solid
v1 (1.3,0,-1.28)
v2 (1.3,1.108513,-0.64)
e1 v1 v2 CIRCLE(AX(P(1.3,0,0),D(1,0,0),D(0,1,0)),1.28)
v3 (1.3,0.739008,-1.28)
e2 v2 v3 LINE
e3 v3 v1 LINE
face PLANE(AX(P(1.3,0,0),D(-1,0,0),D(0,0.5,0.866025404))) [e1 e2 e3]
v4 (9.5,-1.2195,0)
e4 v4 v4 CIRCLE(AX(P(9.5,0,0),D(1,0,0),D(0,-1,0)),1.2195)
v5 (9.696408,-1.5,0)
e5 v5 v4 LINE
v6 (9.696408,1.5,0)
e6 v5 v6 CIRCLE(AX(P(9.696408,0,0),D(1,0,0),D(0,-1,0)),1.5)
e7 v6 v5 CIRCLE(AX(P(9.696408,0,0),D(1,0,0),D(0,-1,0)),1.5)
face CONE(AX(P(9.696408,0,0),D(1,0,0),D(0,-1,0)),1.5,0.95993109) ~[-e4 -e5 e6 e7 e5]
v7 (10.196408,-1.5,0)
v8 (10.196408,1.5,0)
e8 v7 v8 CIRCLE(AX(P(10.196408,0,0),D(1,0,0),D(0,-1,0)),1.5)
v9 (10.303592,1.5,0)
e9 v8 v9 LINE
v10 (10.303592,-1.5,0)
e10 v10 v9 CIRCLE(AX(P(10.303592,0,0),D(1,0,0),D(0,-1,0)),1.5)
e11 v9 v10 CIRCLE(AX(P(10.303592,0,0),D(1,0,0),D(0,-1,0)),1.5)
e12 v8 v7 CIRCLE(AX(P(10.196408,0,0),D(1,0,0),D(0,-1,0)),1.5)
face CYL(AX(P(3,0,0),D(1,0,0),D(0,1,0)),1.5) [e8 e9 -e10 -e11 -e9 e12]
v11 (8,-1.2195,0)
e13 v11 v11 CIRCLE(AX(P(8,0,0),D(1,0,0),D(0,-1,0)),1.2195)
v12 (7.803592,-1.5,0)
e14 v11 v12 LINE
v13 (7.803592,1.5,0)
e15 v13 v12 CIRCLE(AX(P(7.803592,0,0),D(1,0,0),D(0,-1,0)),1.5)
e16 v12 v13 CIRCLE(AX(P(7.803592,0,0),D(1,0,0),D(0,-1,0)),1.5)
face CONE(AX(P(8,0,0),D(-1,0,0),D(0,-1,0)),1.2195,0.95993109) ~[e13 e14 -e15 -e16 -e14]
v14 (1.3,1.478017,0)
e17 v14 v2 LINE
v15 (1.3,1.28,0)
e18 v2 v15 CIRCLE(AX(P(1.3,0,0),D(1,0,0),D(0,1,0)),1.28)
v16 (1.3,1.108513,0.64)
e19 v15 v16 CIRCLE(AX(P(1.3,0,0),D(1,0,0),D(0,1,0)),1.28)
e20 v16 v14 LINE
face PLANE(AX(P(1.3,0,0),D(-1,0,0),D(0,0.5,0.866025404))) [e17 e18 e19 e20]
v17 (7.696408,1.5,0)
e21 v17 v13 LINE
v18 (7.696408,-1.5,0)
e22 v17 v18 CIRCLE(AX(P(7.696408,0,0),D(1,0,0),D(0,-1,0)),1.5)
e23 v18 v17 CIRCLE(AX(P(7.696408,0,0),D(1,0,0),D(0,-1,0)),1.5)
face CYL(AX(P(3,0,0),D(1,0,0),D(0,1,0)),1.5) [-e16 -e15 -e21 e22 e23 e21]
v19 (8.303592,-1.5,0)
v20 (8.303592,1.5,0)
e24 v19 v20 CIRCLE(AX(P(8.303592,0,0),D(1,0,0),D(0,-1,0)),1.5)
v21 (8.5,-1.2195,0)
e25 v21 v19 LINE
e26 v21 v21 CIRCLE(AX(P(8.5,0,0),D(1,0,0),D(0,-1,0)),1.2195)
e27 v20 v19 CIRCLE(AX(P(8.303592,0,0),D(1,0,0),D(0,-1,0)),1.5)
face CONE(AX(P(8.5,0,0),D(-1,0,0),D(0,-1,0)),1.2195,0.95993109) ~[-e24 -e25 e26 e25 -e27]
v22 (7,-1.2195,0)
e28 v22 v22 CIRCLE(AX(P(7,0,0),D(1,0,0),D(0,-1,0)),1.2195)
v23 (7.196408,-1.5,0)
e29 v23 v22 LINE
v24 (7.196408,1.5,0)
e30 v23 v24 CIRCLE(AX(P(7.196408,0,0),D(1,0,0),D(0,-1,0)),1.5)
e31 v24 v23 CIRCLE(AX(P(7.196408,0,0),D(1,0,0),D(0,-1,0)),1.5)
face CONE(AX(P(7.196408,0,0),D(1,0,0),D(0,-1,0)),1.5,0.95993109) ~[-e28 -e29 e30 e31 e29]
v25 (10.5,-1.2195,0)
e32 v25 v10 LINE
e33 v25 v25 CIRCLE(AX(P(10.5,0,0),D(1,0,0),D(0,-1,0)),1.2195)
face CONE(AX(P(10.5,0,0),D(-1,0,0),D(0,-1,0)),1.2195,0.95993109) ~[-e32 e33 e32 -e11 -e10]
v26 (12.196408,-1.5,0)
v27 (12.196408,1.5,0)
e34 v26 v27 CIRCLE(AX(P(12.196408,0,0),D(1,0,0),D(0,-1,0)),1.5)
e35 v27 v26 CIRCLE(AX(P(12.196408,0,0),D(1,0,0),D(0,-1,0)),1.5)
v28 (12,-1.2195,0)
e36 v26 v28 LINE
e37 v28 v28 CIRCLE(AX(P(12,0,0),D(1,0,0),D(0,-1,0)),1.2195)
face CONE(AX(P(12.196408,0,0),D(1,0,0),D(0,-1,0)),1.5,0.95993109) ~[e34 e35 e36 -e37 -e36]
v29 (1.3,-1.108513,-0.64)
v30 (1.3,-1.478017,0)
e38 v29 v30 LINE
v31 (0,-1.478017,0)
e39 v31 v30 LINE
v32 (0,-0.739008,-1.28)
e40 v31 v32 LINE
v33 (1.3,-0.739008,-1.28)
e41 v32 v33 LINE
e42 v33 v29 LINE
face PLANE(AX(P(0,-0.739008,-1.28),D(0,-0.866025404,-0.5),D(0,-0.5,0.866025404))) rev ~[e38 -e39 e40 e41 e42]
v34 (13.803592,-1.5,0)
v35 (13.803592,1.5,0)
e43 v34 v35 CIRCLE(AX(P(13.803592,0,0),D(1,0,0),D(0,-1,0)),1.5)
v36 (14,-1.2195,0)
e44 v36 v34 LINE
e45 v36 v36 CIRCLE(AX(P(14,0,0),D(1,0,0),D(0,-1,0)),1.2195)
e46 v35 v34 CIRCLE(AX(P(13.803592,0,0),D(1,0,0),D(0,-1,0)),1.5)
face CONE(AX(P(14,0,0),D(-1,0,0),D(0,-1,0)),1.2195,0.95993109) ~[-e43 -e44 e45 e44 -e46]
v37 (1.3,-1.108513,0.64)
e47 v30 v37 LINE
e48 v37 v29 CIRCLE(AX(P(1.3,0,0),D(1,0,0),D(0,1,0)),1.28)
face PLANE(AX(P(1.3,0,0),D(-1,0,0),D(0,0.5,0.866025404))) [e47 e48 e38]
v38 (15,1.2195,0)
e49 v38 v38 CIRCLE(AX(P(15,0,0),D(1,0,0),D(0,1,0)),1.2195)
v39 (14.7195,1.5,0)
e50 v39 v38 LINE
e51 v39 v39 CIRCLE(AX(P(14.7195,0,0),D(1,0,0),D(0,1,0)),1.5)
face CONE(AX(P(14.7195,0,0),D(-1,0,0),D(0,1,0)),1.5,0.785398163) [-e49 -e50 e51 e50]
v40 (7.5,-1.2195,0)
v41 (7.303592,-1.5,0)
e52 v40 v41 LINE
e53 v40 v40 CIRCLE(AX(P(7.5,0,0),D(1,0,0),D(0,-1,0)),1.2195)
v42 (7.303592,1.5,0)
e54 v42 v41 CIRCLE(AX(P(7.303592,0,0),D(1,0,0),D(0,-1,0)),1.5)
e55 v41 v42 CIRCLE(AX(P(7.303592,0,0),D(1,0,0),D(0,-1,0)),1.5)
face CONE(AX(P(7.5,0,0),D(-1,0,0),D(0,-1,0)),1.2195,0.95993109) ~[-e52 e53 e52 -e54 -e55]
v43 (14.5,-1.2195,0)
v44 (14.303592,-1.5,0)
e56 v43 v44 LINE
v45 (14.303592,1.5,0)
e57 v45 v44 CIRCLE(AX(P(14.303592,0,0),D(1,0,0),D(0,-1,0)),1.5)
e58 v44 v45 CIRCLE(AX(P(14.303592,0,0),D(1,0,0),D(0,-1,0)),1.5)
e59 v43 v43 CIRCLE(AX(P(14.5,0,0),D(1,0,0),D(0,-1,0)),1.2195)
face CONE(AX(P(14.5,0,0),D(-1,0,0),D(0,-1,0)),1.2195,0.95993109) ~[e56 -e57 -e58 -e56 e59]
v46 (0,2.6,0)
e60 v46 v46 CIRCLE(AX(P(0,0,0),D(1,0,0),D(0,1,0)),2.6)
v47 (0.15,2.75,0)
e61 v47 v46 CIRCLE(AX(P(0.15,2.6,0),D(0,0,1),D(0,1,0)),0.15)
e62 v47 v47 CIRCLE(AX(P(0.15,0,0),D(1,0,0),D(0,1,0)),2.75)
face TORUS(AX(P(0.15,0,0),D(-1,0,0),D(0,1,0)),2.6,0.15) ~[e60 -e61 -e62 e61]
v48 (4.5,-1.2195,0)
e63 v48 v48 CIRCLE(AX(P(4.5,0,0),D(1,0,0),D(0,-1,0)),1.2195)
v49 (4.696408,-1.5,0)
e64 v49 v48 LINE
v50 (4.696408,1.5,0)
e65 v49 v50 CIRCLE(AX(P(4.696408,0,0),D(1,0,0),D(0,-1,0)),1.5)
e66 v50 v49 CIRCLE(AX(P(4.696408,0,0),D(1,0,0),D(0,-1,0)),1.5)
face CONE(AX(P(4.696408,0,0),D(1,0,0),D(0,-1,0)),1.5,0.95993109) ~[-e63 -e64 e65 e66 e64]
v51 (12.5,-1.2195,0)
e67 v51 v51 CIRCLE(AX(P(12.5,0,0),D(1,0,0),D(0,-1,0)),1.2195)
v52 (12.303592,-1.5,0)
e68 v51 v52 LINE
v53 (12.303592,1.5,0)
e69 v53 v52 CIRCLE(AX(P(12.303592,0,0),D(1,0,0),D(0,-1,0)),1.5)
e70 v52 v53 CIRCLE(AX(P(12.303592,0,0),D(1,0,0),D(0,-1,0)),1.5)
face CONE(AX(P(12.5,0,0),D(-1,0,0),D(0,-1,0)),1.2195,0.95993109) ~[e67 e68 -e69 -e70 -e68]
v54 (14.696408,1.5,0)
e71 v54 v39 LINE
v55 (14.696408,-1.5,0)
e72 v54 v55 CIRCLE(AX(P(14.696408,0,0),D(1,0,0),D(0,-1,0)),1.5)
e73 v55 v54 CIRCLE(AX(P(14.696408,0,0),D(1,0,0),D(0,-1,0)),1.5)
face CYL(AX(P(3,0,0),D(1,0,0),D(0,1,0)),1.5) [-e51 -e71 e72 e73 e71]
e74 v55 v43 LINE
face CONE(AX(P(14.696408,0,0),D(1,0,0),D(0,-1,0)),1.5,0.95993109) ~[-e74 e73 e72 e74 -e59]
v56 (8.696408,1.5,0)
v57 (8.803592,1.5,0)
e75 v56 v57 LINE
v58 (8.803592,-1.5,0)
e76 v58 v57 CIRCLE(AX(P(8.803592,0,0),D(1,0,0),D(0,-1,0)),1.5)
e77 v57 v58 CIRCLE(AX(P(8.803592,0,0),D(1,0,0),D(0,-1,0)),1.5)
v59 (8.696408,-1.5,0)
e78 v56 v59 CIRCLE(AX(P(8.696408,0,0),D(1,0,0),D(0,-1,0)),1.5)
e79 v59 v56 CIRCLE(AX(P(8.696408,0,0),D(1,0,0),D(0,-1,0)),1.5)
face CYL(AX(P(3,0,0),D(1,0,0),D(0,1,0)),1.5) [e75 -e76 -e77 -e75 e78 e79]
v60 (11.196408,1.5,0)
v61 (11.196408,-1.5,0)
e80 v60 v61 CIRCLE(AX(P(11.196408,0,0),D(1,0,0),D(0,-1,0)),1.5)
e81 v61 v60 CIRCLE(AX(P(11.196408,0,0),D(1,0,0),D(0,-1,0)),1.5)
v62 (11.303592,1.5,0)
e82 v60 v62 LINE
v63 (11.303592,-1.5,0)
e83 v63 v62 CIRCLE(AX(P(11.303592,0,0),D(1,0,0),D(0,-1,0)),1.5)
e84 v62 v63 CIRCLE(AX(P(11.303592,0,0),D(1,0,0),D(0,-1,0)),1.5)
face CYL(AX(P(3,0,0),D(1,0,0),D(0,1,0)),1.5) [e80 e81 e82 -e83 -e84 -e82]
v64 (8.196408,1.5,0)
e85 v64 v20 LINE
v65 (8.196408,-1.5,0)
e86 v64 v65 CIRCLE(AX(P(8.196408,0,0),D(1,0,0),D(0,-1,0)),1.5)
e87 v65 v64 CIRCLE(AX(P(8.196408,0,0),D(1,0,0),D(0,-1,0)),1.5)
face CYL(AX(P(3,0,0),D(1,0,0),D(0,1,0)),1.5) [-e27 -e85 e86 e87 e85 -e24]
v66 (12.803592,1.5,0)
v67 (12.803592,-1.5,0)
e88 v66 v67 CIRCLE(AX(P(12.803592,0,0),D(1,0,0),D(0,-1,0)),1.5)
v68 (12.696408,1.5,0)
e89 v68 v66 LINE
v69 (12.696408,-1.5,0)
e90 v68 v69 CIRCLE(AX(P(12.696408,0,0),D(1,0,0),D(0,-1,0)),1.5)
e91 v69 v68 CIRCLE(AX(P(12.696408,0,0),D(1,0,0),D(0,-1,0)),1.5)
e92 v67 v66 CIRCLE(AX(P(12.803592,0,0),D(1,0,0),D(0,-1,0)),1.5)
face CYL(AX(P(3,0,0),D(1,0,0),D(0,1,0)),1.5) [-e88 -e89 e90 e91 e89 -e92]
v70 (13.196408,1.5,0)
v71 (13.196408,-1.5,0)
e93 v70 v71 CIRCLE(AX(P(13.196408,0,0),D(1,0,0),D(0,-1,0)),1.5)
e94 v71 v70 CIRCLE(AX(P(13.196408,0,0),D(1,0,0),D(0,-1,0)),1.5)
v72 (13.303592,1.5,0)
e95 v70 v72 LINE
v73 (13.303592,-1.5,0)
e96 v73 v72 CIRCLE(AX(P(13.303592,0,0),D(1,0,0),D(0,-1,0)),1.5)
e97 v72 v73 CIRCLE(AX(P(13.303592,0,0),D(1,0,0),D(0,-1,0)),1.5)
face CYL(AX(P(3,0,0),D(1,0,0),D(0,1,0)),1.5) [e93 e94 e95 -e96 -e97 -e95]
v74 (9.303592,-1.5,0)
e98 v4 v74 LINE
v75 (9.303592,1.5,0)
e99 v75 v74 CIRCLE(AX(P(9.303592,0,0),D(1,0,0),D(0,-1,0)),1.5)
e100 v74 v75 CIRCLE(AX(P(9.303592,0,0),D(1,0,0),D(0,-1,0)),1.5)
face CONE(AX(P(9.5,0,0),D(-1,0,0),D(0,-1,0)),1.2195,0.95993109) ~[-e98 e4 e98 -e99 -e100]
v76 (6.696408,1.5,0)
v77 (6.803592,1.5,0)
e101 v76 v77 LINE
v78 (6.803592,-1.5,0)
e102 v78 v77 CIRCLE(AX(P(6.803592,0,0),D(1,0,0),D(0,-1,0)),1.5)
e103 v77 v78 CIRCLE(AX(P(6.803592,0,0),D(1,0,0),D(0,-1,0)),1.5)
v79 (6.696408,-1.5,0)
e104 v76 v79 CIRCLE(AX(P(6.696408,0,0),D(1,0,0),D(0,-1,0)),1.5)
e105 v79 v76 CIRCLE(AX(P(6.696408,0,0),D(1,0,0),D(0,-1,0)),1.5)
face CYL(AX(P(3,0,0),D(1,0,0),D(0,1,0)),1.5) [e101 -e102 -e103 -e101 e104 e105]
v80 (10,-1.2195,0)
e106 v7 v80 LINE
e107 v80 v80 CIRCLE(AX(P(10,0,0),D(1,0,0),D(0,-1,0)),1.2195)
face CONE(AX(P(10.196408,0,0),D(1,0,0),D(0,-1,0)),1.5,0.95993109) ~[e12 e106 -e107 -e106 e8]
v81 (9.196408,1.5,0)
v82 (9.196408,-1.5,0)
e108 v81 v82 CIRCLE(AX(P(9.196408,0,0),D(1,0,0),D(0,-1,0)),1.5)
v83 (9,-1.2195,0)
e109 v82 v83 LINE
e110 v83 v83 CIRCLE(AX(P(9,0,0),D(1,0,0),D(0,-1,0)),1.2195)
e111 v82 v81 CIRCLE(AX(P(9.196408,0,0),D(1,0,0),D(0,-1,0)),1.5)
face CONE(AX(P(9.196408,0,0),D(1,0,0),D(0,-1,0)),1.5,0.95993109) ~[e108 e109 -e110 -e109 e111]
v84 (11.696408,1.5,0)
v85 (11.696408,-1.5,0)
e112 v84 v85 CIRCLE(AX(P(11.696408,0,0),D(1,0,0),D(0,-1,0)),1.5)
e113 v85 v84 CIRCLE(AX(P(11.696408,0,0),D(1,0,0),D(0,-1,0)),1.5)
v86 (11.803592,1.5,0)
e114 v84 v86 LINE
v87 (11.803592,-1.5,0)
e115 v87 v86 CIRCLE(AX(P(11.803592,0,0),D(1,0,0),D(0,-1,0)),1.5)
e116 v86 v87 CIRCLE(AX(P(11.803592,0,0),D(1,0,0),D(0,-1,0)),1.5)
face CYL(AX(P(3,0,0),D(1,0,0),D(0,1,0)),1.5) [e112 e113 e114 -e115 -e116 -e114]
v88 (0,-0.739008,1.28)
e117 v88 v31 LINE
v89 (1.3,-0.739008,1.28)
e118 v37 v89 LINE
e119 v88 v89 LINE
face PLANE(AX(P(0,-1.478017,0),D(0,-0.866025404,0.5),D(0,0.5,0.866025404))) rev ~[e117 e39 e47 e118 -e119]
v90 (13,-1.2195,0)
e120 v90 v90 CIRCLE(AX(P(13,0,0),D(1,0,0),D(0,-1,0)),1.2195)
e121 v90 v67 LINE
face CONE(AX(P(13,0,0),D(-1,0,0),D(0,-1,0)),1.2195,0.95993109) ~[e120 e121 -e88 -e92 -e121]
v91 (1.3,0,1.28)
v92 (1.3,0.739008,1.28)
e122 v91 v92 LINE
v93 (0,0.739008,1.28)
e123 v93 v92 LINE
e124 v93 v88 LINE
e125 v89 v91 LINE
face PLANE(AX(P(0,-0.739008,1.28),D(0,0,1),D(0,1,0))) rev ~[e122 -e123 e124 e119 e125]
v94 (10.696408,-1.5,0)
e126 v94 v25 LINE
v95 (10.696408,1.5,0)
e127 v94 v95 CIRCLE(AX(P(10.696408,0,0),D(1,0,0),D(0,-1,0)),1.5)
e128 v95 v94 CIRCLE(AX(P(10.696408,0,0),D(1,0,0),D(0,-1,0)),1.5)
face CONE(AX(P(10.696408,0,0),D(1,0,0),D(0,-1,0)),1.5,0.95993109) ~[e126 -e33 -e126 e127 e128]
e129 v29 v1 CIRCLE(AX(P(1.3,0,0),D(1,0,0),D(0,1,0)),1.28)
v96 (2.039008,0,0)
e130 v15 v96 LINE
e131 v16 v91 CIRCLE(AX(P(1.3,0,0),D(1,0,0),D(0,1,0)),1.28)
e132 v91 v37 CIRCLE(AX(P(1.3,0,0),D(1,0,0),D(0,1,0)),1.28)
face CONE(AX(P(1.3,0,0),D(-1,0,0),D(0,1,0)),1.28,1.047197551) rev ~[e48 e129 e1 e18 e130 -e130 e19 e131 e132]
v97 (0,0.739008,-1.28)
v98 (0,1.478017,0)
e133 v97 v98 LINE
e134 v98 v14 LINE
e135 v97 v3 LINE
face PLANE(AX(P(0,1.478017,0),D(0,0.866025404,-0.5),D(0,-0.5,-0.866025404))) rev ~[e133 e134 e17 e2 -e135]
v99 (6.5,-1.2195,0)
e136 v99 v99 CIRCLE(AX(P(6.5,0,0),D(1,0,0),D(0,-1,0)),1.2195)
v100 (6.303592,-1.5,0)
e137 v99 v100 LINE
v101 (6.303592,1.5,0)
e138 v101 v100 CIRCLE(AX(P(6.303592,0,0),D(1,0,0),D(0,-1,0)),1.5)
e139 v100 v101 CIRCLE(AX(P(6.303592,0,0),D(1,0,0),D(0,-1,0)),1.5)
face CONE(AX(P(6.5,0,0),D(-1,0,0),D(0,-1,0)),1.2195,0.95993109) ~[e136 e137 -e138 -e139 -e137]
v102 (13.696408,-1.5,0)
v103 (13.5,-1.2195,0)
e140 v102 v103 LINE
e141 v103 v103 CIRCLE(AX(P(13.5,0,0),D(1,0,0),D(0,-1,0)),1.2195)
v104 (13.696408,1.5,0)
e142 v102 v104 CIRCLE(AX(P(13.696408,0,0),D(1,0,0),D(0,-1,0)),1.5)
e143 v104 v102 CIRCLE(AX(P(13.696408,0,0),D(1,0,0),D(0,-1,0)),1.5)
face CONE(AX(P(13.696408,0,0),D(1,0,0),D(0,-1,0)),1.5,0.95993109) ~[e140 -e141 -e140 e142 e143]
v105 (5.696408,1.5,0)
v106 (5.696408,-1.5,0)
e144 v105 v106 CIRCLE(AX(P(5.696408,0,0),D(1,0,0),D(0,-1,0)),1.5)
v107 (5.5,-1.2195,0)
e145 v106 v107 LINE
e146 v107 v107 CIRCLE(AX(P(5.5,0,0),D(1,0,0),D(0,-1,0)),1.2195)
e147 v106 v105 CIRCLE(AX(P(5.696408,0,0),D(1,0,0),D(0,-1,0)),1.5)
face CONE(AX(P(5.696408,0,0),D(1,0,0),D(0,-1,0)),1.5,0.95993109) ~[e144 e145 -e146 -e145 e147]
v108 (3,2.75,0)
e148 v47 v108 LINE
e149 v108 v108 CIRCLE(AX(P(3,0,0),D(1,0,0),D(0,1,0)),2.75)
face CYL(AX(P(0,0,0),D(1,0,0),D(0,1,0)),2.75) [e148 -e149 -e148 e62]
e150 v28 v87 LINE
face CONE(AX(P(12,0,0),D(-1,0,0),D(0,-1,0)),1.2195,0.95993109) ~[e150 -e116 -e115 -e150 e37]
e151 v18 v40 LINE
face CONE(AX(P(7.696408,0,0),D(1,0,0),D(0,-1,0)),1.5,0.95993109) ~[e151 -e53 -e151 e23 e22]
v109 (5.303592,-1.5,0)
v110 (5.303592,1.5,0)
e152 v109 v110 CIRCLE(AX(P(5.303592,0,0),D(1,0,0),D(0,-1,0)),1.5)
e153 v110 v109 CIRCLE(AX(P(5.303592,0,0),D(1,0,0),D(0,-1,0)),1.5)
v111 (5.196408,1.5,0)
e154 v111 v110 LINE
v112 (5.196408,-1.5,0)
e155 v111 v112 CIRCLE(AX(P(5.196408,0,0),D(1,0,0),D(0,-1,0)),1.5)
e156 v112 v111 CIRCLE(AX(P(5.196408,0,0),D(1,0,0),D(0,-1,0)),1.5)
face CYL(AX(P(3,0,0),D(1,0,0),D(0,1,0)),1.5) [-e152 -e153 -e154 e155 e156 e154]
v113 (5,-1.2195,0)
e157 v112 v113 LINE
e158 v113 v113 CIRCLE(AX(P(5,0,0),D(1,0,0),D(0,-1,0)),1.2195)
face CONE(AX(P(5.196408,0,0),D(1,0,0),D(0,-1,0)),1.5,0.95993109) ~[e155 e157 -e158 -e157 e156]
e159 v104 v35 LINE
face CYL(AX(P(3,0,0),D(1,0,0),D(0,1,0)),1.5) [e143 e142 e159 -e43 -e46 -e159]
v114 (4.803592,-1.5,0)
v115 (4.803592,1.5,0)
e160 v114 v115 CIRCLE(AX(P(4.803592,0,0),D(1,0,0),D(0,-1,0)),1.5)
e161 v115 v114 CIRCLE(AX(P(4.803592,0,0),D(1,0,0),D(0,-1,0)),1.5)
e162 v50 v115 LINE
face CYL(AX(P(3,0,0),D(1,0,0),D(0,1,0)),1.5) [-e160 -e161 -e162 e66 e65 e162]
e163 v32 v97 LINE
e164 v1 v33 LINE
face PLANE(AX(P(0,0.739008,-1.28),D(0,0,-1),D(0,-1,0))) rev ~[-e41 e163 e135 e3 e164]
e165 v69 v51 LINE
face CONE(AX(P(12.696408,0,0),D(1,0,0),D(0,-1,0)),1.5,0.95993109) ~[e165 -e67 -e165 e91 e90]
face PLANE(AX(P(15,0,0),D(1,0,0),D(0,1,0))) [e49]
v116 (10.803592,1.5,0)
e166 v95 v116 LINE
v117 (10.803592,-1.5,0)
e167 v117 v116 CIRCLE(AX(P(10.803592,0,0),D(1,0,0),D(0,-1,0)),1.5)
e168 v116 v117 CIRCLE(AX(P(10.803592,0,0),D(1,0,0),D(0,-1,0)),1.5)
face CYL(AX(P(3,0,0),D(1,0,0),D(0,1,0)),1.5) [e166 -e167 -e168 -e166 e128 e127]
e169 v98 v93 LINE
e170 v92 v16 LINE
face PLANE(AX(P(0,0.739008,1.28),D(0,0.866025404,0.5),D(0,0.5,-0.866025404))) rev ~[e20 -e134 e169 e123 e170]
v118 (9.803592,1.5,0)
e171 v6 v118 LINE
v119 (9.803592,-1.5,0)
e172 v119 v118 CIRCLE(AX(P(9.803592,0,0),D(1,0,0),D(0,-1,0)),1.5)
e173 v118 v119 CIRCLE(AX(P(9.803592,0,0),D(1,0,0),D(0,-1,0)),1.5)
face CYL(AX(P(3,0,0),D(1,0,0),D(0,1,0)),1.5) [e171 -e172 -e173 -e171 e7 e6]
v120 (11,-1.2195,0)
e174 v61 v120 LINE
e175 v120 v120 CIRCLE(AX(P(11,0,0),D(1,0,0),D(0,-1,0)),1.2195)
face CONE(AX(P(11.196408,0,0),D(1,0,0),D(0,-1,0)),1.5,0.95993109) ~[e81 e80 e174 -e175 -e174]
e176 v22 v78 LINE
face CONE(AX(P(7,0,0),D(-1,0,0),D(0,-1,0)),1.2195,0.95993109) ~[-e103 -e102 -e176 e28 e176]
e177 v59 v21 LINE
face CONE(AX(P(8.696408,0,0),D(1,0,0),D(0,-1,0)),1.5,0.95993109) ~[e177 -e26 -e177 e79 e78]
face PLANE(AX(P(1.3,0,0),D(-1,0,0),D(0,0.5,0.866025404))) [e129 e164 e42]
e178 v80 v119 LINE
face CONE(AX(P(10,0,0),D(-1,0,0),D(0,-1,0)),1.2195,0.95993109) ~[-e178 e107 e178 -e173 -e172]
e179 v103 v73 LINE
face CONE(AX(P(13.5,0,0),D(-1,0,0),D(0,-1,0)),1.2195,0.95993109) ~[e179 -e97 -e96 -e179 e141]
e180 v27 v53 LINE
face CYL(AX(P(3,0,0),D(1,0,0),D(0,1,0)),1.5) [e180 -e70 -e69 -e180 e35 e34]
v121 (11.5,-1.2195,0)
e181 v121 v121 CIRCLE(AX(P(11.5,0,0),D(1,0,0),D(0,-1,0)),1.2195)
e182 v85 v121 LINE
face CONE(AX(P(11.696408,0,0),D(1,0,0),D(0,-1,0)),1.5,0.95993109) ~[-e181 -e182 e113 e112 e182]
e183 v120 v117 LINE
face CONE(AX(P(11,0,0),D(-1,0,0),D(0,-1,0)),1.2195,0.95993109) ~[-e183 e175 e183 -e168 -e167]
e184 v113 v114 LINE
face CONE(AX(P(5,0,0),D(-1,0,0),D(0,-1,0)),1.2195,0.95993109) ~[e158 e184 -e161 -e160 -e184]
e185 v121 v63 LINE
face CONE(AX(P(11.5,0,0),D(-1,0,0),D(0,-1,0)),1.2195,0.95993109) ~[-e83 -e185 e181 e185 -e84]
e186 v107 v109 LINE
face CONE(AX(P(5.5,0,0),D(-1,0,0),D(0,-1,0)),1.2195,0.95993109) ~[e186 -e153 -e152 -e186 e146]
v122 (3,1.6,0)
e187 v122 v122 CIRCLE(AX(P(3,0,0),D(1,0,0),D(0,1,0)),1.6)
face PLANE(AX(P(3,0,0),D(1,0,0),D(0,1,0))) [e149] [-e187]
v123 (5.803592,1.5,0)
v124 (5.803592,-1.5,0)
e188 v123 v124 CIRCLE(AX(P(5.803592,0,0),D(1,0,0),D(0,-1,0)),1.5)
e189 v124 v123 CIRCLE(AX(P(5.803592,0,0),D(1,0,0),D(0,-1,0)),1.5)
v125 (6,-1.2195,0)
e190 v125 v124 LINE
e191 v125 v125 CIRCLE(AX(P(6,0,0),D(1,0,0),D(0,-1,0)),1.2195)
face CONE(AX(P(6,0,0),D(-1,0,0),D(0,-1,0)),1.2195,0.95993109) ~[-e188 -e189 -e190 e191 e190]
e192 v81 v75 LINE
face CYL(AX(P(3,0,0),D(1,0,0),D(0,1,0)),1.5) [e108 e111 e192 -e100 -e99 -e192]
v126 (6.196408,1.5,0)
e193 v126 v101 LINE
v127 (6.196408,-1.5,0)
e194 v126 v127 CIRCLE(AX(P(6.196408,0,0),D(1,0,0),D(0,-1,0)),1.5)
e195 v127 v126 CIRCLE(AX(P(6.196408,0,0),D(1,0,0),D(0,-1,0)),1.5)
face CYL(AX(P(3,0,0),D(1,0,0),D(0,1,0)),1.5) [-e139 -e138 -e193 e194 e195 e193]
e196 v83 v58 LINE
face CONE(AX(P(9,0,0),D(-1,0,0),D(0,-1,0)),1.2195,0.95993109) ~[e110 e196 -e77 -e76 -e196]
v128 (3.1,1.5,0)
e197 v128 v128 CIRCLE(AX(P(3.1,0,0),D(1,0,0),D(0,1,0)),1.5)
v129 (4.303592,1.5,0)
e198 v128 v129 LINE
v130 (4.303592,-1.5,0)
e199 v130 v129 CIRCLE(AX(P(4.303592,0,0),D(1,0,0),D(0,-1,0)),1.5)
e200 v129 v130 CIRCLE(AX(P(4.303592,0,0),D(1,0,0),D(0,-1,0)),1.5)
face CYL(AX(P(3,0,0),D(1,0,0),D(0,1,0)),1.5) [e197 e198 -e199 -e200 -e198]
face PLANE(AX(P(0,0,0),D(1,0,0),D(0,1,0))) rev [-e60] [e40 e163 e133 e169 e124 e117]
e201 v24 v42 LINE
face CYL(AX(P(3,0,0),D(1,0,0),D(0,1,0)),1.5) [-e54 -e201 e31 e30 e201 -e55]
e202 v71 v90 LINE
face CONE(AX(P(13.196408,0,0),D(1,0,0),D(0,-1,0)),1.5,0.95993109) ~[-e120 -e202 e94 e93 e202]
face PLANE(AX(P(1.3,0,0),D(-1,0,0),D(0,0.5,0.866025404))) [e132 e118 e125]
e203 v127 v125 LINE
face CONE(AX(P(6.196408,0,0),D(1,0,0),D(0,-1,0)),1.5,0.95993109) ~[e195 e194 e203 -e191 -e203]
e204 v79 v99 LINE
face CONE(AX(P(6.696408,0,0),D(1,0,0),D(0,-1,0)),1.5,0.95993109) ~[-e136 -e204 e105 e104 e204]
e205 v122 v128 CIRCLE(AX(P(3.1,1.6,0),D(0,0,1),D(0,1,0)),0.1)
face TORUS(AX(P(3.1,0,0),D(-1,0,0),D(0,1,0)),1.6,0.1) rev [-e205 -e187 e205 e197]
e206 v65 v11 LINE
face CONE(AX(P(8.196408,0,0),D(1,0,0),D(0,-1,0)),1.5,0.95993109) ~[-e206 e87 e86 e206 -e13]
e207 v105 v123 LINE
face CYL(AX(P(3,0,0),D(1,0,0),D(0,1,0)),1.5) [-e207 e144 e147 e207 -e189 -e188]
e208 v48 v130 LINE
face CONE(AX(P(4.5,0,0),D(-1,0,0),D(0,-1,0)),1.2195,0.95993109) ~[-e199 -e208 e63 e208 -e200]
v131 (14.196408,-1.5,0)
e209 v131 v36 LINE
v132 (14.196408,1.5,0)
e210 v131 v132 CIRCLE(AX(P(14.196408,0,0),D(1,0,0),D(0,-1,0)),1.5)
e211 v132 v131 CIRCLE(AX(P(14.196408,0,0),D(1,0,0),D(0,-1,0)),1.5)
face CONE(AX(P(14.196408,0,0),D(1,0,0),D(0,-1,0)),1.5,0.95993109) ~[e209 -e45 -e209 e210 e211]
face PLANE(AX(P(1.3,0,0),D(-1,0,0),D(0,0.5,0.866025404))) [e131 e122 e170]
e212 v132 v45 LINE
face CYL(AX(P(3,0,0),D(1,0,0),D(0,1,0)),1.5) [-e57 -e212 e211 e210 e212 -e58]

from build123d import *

# Parameters (mm, degrees)
FILLET1_R       = 0.1
FILLET2_R       = 0.15
HEX_2_DEPTH     = 1.3
THDSCHPAT_COUNT = 21
THDSCHPAT_PITCH = 0.5


with BuildPart() as part:
    # BodySke → Base-Revolve (revolve)
    with BuildSketch(Plane.XY):
        Polygon((0, 0), (0, 2.75), (3, 2.75), (3, 1.5), (14.7195, 1.5), (15, 1.2195), (15, 0), align=None)
    revolve(axis=Axis((-31.75, 0, 0), (1, 0, 0)))

    # Fillet1
    fillet1_edges = [part.edges().sort_by_distance(p)[0] for p in [
        (3, -1.5, 0),
    ]]
    fillet(fillet1_edges, radius=FILLET1_R)

    # Fillet2
    fillet2_edges = [part.edges().sort_by_distance(p)[0] for p in [
        (0, -2.75, 0),
    ]]
    fillet(fillet2_edges, radius=FILLET2_R)

    # Sketch2 → Hex-PreBroach (revolve, cut)
    with BuildSketch(Plane.XY):
        Polygon((0, 1.28), (1.3, 1.28), (2.039008345, 0), (0, 0), align=None)
    revolve(axis=Axis((0, 0, 0), (1, 0, 0)), mode=Mode.SUBTRACT)

    # Sketch3 → Hex 2 (cut)
    with BuildSketch(Plane(origin=(0, 0, 0), x_dir=(0, 0.5, 0.866025404), z_dir=(-1, 0, 0))):
        Polygon((0.739008345, 1.28), (-0.739008345, 1.28), (-1.478016689, 0), (-0.739008345, -1.28), (0.739008345, -1.28), (1.478016689, 0), align=None)
    extrude(amount=-HEX_2_DEPTH, mode=Mode.SUBTRACT)

    # ThdSchSke → ThreadSchematic (revolve, cut)
    with BuildSketch(Plane.XY):
        Polygon((4.5, -1.2195), (4.303591786, -1.5), (4.303591786, -1.875), (4.696408214, -1.875), (4.696408214, -1.5), align=None)
    threadschematic = revolve(axis=Axis((-3.175, 0, 0), (1, 0, 0)), mode=Mode.SUBTRACT)

    # ThdSchPat: ThreadSchematic ×21
    with Locations(*[(i * THDSCHPAT_PITCH, 0, 0) for i in range(1, THDSCHPAT_COUNT)]):
        add(threadschematic, mode=Mode.SUBTRACT)


solid = part.part
